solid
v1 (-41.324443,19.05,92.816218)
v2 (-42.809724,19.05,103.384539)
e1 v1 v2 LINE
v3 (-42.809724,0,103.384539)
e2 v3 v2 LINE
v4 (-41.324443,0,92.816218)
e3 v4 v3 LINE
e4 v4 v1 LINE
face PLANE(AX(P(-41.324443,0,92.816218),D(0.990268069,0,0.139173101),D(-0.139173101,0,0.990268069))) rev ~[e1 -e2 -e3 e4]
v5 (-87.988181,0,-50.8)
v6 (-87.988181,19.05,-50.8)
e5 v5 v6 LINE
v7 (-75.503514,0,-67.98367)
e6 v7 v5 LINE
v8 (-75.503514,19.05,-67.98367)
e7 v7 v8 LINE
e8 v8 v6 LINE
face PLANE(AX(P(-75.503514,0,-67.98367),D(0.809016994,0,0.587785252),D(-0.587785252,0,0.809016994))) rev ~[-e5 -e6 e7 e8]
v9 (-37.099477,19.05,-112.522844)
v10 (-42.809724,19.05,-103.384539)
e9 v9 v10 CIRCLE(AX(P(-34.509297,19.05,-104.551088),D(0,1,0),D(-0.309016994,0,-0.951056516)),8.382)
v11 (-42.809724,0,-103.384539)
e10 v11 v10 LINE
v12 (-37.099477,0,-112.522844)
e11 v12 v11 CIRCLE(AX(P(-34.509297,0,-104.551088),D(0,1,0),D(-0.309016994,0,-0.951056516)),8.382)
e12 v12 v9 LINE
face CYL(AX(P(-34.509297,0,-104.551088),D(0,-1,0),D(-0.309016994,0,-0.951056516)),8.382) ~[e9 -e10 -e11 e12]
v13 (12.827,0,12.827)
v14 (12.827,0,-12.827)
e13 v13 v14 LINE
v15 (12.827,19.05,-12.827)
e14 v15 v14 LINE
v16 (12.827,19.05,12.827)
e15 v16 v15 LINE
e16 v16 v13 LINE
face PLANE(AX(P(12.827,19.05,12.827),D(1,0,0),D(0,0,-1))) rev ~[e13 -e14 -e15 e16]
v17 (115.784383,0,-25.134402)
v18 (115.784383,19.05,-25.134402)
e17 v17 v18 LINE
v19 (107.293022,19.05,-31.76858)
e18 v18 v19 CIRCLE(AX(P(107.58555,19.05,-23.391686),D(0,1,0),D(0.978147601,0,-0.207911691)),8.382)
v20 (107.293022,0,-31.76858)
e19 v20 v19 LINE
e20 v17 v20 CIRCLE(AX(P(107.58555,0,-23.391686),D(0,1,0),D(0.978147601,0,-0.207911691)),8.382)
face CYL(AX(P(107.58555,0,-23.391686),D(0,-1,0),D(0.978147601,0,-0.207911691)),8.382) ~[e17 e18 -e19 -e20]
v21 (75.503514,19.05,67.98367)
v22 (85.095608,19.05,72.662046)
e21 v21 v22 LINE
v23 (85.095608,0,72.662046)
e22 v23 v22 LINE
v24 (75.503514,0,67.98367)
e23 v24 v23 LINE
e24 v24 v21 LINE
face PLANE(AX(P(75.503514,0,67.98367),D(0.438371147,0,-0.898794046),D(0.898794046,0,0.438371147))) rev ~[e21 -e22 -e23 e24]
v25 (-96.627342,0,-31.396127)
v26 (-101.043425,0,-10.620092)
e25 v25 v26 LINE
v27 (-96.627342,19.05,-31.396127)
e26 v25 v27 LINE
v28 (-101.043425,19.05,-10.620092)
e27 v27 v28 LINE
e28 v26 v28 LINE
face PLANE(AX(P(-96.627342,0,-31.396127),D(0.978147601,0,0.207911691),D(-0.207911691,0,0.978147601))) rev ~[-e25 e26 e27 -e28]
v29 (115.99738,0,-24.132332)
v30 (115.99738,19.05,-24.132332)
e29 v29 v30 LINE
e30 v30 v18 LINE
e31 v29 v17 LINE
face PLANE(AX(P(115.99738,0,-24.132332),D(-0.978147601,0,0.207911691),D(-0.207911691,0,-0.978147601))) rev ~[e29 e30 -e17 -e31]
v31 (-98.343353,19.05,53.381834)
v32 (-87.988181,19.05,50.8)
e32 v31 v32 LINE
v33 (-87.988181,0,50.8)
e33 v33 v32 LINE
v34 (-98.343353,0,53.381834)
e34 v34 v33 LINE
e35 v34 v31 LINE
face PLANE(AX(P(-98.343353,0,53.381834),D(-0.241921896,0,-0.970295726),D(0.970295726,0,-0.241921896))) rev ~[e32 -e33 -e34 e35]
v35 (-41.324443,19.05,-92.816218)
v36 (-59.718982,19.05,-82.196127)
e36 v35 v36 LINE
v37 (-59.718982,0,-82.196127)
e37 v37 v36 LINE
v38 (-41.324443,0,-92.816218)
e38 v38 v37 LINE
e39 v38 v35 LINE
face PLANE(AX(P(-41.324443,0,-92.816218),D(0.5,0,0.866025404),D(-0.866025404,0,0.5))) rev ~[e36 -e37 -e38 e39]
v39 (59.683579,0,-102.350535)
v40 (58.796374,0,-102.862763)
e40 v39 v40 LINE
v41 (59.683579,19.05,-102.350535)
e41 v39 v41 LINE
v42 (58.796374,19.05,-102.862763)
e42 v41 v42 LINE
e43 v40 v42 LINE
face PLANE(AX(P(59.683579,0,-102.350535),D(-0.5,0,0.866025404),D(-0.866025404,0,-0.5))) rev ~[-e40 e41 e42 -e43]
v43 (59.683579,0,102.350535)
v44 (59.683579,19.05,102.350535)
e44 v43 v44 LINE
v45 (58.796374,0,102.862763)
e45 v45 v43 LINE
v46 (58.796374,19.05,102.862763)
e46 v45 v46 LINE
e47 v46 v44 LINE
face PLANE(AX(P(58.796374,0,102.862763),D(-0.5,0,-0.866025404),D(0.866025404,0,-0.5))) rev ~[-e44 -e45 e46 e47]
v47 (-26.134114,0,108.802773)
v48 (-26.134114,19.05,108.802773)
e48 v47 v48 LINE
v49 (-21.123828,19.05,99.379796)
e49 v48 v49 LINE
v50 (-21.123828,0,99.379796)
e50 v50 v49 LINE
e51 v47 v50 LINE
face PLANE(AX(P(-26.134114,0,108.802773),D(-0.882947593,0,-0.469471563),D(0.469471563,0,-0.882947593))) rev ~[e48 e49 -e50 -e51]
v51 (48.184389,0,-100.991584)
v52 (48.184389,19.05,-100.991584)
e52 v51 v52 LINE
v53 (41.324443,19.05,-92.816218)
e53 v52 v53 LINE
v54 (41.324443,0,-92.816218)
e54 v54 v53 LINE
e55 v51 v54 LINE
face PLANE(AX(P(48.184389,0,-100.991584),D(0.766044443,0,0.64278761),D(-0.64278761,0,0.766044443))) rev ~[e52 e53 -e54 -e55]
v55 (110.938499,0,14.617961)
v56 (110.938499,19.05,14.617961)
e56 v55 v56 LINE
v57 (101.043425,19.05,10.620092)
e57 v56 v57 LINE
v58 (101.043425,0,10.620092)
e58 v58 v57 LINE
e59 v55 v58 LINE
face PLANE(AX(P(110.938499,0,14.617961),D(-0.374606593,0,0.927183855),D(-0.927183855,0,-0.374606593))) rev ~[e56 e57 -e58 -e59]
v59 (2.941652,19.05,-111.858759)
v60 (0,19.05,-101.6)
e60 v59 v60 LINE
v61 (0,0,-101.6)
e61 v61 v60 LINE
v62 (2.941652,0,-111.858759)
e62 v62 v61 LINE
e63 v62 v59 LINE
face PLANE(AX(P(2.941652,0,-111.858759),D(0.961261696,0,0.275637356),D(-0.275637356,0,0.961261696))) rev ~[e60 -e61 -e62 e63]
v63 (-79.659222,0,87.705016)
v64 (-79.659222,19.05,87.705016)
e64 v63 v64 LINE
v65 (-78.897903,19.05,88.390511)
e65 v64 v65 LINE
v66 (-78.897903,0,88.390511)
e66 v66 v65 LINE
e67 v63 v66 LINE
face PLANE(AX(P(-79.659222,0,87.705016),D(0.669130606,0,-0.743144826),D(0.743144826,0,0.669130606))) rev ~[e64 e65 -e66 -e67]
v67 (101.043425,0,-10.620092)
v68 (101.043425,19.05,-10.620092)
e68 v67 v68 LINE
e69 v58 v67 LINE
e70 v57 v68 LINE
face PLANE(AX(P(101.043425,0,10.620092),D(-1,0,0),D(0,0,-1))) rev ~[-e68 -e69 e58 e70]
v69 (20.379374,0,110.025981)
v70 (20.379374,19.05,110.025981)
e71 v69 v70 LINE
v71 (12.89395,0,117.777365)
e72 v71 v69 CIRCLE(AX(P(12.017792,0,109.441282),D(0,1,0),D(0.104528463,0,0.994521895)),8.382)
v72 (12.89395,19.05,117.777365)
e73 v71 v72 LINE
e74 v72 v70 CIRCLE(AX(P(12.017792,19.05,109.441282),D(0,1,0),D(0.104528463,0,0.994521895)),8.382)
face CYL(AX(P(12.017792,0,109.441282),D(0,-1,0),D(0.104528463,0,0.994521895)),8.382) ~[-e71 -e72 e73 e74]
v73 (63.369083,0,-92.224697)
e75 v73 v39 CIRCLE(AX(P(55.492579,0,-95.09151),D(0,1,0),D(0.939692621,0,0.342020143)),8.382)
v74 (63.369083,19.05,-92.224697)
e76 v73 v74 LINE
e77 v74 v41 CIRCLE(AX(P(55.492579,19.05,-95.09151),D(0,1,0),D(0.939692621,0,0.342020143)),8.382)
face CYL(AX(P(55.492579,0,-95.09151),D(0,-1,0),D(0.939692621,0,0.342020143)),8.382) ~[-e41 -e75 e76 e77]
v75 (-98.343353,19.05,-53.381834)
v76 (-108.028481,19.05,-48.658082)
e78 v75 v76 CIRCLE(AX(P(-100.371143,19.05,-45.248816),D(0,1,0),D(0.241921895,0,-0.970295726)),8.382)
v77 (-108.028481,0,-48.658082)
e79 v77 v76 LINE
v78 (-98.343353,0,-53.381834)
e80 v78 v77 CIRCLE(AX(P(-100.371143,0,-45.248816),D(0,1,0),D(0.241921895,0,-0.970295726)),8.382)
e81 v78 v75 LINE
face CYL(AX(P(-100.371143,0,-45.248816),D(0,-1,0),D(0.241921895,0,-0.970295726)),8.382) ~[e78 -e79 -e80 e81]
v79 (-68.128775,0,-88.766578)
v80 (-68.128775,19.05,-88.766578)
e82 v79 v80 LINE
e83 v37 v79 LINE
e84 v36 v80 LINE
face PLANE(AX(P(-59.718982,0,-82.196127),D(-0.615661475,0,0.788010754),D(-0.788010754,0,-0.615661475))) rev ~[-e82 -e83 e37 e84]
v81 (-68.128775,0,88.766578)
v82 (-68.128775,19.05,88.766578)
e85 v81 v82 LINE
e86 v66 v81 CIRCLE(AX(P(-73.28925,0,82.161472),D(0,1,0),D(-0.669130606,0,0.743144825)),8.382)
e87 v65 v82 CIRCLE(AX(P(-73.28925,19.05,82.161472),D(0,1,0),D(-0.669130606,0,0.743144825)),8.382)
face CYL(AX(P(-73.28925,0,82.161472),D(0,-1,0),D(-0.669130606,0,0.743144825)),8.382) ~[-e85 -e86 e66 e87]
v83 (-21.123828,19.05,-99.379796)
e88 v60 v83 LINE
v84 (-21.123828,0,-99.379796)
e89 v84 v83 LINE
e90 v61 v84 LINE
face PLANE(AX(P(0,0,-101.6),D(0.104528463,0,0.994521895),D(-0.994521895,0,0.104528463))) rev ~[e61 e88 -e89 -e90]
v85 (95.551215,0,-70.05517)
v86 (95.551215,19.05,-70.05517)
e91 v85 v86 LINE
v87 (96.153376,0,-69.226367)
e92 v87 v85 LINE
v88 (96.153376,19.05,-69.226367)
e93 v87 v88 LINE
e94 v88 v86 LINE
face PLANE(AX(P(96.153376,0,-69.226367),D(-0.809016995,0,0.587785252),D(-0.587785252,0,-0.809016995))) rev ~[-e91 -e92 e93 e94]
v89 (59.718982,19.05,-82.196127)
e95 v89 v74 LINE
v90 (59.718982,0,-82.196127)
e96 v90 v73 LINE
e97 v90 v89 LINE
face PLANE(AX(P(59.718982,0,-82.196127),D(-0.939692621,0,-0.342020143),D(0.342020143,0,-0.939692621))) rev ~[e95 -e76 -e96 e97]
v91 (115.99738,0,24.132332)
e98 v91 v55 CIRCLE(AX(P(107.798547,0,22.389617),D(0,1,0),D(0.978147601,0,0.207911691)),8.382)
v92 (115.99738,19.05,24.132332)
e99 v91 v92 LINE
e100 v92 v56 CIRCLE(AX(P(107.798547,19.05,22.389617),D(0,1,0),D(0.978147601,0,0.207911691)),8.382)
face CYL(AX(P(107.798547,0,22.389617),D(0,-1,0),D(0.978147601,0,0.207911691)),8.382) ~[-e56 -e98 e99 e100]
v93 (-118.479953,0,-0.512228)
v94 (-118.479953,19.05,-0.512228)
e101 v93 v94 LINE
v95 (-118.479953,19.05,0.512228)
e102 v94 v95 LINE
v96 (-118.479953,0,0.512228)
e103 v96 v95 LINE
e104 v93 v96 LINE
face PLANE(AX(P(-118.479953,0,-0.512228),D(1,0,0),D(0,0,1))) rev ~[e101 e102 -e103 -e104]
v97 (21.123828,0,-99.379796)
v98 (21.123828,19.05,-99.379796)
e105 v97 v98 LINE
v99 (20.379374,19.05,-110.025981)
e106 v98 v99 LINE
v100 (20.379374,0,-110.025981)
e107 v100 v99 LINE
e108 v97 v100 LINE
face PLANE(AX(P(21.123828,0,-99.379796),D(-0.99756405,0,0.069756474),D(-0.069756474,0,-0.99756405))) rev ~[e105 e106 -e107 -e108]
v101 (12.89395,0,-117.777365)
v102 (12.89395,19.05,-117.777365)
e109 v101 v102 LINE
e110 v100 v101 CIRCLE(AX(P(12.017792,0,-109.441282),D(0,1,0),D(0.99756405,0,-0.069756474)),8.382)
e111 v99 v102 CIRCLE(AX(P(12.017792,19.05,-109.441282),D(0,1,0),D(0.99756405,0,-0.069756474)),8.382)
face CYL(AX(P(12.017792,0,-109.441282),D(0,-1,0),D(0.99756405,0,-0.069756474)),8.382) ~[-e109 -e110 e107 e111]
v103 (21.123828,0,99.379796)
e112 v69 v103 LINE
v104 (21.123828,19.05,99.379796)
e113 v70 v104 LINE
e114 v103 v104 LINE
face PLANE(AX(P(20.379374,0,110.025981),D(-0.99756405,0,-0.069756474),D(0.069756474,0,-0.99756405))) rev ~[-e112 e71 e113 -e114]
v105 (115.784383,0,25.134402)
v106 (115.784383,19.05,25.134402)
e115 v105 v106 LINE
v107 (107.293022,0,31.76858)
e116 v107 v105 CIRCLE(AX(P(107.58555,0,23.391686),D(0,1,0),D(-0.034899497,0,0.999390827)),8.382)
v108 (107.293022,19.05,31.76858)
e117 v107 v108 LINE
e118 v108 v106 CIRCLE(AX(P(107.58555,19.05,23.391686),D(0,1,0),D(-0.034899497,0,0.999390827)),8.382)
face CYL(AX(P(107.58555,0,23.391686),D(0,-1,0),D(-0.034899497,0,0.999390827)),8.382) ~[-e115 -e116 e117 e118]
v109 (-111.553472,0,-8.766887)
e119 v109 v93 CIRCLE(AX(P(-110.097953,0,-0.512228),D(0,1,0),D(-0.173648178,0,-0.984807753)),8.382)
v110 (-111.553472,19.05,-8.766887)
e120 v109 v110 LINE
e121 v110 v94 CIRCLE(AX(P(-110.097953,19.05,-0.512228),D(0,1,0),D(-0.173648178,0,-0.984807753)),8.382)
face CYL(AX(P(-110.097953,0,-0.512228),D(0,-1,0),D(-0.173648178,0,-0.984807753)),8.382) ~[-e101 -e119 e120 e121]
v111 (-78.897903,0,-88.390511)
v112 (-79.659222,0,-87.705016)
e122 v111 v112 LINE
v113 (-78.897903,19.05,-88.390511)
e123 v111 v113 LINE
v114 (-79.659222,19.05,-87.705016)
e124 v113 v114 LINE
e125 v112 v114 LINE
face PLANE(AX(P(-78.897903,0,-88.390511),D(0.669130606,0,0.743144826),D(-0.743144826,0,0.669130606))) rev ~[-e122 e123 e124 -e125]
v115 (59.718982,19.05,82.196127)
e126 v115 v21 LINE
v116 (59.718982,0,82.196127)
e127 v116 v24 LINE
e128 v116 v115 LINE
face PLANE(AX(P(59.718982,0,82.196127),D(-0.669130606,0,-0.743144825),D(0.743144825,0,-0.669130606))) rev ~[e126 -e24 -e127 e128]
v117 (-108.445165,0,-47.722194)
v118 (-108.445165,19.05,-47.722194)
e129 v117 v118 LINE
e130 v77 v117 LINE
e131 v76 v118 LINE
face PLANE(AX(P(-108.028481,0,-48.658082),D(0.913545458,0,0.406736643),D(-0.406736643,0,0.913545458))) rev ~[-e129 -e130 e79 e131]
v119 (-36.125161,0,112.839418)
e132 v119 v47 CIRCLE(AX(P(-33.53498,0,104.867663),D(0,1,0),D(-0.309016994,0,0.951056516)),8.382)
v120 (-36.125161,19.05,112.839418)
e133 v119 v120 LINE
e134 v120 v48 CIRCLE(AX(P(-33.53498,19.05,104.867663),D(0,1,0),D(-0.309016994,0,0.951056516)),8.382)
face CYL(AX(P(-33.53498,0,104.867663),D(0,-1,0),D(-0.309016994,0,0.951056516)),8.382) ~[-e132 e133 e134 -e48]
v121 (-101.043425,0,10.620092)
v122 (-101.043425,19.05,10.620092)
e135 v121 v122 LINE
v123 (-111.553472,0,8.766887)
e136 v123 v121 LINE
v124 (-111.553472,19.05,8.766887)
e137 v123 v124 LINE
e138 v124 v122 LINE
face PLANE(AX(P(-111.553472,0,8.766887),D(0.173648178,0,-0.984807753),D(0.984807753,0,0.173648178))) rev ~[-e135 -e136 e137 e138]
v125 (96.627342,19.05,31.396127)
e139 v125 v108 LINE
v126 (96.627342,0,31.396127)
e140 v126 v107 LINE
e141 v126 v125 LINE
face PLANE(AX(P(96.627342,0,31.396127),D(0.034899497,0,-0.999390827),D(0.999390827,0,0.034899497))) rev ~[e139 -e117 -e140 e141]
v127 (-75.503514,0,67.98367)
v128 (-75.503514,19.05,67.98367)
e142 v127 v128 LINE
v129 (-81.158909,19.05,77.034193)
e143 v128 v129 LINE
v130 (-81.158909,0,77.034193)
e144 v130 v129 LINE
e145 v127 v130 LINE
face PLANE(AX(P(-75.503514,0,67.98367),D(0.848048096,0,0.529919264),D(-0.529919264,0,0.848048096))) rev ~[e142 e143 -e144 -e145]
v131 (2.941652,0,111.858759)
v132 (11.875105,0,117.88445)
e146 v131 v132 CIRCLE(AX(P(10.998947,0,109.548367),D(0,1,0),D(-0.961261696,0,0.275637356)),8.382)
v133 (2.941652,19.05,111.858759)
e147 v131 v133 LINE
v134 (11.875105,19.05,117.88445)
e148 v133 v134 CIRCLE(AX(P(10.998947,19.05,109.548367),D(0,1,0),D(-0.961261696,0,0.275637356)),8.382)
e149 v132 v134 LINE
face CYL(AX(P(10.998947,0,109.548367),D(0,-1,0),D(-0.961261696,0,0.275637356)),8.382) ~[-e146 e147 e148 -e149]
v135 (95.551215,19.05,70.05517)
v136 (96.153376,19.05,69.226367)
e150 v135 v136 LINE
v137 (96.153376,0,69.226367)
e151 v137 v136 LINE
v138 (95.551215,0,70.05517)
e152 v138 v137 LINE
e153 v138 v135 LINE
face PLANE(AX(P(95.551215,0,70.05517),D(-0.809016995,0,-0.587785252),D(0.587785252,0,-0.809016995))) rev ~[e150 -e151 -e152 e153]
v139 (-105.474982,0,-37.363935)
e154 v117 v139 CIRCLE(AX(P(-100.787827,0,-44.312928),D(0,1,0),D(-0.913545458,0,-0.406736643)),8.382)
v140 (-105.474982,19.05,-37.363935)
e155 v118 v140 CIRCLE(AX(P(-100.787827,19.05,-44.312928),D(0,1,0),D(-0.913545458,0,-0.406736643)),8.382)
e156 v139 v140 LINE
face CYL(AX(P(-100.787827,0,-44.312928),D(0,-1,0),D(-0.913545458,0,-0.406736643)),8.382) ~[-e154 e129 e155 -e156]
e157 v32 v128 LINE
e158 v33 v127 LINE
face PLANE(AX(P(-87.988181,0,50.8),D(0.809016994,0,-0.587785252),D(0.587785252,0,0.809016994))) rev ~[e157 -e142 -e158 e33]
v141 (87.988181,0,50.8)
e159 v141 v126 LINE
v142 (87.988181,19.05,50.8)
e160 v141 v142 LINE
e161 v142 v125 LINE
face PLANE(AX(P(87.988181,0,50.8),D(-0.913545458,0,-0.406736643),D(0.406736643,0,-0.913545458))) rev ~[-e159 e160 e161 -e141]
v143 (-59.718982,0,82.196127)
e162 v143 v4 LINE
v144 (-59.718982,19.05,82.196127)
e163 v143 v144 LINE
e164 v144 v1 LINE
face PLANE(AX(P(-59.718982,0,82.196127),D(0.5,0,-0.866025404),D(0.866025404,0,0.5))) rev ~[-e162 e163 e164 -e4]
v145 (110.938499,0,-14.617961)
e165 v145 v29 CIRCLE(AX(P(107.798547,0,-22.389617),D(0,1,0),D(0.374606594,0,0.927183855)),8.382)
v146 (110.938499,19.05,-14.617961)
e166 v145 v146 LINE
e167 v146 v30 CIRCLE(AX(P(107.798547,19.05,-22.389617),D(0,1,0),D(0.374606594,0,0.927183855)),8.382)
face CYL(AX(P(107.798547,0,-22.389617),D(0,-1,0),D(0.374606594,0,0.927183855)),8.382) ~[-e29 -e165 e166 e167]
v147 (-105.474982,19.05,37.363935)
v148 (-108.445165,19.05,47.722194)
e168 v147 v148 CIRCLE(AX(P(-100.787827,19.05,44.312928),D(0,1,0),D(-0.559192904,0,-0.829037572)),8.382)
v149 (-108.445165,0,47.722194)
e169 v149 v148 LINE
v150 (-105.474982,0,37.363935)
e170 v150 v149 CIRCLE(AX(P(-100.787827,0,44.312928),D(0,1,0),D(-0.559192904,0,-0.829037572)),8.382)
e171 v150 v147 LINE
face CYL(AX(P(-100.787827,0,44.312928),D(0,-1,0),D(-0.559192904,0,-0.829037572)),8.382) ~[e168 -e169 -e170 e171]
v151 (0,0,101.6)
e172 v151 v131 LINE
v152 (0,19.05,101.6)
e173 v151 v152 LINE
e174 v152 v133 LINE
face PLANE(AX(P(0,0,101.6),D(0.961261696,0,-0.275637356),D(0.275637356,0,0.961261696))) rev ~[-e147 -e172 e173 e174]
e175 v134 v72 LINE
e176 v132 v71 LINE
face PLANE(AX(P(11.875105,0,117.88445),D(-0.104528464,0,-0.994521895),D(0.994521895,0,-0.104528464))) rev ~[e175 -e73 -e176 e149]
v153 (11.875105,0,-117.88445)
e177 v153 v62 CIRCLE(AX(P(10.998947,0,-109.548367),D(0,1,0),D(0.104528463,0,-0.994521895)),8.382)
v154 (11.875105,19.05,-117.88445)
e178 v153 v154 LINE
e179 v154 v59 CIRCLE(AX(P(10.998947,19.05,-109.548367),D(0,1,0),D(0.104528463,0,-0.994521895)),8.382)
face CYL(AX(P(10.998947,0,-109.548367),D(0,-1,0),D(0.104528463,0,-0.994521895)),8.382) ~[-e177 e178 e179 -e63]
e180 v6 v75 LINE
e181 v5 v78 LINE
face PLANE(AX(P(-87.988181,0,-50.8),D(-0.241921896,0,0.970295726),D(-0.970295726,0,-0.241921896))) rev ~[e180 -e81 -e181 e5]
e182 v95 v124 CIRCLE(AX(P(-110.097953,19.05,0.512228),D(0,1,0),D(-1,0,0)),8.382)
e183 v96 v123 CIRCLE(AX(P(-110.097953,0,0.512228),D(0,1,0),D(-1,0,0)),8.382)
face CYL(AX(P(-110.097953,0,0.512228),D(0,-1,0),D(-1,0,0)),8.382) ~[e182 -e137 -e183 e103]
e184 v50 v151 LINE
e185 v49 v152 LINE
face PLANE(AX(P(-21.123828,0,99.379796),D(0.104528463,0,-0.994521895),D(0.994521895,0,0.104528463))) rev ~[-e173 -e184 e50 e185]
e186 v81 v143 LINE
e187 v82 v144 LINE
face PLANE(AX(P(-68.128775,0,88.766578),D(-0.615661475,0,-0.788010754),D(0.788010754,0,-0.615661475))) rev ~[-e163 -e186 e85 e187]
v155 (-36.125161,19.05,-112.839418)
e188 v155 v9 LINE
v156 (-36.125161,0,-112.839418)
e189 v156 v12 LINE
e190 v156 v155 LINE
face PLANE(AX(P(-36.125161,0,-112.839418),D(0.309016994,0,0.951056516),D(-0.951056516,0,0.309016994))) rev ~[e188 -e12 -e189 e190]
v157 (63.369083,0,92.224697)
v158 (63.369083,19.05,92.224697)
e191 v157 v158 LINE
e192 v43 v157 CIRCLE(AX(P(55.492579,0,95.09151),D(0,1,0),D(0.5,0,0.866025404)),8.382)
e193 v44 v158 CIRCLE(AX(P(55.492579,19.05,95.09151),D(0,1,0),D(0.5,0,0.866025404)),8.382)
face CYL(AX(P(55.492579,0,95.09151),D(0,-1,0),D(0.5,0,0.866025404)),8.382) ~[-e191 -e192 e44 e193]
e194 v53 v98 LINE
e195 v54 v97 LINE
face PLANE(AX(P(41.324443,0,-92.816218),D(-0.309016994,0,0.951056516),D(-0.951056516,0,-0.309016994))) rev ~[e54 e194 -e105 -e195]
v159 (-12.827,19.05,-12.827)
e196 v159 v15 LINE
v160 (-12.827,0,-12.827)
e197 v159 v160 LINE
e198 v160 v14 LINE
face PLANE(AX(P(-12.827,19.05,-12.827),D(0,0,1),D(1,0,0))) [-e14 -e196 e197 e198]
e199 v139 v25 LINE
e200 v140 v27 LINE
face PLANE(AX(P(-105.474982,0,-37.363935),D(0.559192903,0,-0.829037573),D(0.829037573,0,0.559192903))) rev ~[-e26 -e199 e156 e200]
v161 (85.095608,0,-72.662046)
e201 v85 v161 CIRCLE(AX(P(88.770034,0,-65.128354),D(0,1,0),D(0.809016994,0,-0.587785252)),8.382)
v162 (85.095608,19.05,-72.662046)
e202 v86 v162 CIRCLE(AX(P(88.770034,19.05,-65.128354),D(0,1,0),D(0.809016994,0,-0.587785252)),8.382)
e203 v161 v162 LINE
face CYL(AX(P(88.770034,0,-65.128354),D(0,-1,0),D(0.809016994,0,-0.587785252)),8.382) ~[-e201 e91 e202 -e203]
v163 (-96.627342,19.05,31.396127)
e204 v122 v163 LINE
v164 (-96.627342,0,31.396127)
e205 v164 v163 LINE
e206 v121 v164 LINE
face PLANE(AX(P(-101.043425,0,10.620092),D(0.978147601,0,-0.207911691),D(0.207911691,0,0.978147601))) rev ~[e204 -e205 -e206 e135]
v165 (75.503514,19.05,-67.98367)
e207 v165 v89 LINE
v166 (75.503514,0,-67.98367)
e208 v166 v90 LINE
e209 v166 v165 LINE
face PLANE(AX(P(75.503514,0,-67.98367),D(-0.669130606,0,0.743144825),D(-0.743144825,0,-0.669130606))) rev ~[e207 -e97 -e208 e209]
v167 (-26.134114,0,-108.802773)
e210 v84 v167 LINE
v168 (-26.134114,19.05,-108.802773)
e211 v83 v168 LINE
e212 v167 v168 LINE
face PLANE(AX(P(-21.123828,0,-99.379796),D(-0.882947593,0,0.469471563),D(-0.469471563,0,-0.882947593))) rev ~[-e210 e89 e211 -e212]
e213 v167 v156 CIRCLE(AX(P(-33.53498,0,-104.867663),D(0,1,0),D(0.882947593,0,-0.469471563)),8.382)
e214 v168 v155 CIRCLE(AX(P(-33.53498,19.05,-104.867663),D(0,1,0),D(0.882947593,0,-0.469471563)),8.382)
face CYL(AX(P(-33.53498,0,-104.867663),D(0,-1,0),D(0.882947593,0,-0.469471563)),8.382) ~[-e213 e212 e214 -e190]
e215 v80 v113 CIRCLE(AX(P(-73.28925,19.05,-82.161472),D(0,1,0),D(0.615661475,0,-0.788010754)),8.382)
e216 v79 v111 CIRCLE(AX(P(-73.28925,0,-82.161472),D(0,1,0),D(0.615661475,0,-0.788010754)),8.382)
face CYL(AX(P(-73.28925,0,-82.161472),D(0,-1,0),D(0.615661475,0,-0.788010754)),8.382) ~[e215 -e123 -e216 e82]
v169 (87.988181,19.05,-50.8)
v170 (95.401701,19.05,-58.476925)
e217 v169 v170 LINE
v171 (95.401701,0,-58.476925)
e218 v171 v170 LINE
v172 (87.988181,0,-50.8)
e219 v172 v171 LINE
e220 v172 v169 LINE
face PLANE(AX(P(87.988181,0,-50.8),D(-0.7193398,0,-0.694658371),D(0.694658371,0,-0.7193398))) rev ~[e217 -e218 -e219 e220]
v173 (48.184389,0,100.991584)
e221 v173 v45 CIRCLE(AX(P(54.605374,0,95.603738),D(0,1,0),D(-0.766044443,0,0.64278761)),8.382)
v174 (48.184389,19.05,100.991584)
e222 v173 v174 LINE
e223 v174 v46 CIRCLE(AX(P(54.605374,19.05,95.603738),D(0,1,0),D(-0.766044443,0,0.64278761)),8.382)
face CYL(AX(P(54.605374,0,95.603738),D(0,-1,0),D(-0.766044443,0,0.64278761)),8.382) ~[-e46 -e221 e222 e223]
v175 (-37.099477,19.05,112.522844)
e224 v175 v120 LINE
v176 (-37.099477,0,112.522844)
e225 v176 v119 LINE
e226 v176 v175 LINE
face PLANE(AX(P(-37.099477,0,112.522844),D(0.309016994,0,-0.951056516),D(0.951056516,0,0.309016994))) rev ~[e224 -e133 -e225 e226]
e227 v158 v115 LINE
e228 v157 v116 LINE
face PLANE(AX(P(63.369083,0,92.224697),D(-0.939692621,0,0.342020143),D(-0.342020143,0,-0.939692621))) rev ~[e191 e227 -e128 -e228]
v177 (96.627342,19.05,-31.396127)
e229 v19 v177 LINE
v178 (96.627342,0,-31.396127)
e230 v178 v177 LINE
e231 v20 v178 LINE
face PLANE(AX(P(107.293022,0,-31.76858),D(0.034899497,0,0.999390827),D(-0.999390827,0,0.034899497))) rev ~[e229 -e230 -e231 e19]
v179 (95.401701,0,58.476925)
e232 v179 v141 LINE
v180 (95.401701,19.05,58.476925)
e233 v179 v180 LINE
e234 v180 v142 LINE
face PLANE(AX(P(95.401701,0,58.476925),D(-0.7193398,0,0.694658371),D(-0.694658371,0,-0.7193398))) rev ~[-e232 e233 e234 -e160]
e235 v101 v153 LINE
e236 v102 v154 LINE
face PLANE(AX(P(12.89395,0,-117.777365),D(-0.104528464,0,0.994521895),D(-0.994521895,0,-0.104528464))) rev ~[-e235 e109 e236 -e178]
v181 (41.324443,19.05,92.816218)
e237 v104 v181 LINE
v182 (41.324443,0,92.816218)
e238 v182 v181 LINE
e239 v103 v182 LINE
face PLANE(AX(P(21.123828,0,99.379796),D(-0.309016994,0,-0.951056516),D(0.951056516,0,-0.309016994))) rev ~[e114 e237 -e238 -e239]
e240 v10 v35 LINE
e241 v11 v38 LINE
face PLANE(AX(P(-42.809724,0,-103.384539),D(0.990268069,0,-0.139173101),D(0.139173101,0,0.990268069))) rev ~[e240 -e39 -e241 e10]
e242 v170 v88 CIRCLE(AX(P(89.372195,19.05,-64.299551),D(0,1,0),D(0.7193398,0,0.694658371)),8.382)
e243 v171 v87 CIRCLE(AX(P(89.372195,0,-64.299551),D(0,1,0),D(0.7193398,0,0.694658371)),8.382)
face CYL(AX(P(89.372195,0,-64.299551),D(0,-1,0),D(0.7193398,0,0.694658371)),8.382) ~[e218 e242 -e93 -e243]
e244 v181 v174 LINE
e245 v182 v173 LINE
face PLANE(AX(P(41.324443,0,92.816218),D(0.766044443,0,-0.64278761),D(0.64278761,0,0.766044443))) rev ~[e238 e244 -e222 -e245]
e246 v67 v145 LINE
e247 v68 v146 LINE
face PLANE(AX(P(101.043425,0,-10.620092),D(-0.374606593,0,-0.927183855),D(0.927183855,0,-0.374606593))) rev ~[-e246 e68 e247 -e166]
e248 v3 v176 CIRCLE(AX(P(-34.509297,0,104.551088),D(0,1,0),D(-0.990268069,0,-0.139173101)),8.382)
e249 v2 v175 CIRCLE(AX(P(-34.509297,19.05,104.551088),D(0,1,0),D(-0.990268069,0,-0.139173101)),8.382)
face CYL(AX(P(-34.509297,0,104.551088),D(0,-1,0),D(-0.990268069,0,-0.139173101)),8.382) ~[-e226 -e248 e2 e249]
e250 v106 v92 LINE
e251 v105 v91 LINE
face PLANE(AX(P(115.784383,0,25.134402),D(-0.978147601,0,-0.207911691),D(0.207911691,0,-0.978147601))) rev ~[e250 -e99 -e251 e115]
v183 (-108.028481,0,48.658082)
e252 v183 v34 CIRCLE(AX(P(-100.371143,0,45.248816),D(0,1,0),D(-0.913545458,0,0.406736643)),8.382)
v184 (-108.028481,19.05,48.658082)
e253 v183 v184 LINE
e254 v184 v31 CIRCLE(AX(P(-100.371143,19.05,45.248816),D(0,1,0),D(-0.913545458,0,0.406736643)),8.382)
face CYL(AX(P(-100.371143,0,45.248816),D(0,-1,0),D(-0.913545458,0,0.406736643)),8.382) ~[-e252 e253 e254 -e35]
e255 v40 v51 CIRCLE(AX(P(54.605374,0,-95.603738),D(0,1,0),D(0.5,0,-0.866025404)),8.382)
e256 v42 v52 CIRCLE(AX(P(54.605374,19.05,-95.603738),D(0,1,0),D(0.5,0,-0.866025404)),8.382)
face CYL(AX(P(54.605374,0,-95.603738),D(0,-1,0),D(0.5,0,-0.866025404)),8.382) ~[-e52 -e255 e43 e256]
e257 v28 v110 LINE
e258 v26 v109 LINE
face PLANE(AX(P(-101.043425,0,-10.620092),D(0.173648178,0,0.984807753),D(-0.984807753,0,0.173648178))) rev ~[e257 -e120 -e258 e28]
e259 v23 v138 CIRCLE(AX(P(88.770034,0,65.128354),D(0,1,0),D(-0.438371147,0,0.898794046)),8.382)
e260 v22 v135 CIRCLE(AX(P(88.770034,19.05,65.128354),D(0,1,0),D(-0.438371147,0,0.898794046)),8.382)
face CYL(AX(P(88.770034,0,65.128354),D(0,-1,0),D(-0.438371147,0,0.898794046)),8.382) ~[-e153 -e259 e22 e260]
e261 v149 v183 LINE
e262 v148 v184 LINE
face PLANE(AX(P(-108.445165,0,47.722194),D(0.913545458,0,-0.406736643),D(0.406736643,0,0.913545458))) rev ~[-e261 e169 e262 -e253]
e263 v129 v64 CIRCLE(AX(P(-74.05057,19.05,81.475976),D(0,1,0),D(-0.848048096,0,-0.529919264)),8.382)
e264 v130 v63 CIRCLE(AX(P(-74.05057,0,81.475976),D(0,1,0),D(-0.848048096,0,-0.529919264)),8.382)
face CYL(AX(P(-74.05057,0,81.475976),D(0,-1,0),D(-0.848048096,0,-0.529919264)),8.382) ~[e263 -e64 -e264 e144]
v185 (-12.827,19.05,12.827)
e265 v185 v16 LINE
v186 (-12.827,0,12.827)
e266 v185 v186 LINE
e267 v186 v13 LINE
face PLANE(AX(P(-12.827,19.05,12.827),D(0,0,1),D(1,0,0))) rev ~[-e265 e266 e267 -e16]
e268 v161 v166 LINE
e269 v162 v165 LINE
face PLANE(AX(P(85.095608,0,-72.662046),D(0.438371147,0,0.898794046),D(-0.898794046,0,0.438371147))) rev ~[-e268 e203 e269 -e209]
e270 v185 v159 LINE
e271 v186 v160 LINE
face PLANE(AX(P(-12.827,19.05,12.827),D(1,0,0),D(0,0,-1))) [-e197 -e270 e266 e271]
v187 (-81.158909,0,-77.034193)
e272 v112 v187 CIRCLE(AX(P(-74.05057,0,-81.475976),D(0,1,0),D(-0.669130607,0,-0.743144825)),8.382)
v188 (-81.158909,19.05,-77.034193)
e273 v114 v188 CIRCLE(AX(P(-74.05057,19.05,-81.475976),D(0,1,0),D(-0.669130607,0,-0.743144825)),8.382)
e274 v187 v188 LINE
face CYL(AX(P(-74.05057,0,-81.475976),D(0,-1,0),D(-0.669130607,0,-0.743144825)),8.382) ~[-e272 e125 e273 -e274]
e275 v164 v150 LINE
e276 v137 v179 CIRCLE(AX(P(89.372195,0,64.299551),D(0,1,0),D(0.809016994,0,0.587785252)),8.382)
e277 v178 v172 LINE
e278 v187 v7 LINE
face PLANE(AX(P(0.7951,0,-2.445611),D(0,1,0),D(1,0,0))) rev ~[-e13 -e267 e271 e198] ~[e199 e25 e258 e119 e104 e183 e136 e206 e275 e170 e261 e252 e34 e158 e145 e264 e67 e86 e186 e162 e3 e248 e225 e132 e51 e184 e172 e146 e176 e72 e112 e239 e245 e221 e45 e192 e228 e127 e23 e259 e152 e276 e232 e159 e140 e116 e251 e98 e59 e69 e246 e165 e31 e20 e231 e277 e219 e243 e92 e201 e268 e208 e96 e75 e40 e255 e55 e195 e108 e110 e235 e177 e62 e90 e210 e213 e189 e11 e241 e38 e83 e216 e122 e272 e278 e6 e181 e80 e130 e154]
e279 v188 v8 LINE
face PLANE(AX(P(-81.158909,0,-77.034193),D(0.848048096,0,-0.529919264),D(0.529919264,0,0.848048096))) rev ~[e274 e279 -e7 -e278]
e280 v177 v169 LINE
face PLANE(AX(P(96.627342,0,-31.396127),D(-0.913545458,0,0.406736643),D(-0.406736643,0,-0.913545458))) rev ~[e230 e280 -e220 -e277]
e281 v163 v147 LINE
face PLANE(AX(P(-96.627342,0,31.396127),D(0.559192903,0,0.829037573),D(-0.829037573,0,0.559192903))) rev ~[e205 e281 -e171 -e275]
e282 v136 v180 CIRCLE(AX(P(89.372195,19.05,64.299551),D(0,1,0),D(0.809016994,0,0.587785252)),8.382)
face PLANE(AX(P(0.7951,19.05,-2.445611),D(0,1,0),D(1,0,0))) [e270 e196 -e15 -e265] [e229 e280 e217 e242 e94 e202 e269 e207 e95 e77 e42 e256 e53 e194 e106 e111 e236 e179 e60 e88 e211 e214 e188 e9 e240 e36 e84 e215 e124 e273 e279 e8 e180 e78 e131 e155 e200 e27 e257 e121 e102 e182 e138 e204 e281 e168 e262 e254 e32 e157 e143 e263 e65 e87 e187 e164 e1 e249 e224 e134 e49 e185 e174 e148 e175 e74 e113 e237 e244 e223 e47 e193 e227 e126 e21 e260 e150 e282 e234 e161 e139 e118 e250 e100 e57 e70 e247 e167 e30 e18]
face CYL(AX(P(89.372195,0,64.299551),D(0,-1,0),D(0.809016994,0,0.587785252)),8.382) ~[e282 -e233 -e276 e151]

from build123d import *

# Parameters (mm, degrees)
BOSS_EXTRUDE1_DEPTH = 19.05
SKETCH2_R           = 3.175
CUT_EXTRUDE1_DEPTH  = 169.2497345
SKETCH4_W           = 25.654
SKETCH4_H           = 25.654
CUT_EXTRUDE2_DEPTH  = 169.2497345


with BuildPart() as part:
    # Sketch1 → Boss-Extrude1 (new body)
    with BuildSketch(Plane(origin=(0, 0, 0), x_dir=(1, 0, 0), z_dir=(0, 1, 0))):
        with BuildLine():
            Line((41.324442937, 92.816218496), (0, 0))
            Line((0, 0), (0, 101.6))
            Line((0, 101.6), (-21.123827787, 99.379796235))
            Line((-21.123827787, 99.379796235), (-26.134113546, 108.80277326))
            ThreePointArc((-26.134113546, 108.80277326), (-30.395027803, 112.639317689), (-36.125160716, 112.83941834))
            Line((-36.125160716, 112.83941834), (-37.099477034, 112.522843778))
            ThreePointArc((-37.099477034, 112.522843778), (-41.617635729, 108.992871331), (-42.809723539, 103.384539126))
            Line((-42.809723539, 103.384539126), (-41.324442937, 92.816218496))
            Line((-41.324442937, 92.816218496), (-59.718981633, 82.196126628))
            Line((-59.718981633, 82.196126628), (-68.128775472, 88.766577677))
            ThreePointArc((-68.128775472, 88.766577677), (-73.58177754, 90.538365452), (-78.897902701, 88.390511467))
            Line((-78.897902701, 88.390511467), (-79.659222473, 87.705016066))
            ThreePointArc((-79.659222473, 87.705016066), (-82.350996682, 82.642525071), (-81.158908872, 77.034192866))
            Line((-81.158908872, 77.034192866), (-75.503514269, 67.983669606))
            Line((-75.503514269, 67.983669606), (-87.988181024, 50.8))
            Line((-87.988181024, 50.8), (-98.343353189, 53.381834395))
            ThreePointArc((-98.343353189, 53.381834395), (-104.04556947, 52.782507313), (-108.028480544, 48.658082159))
            Line((-108.028480544, 48.658082159), (-108.445164665, 47.722194301))
            ThreePointArc((-108.445164665, 47.722194301), (-108.845122174, 42.002535442), (-105.474981556, 37.363934825))
            Line((-105.474981556, 37.363934825), (-96.627342056, 31.396126628))
            Line((-96.627342056, 31.396126628), (-101.043424569, 10.620091868))
            Line((-101.043424569, 10.620091868), (-111.553471718, 8.766886987))
            ThreePointArc((-111.553471718, 8.766886987), (-116.518937215, 5.900074146), (-118.479952693, 0.512228401))
            Line((-118.479952693, 0.512228401), (-118.479952693, -0.512228401))
            ThreePointArc((-118.479952693, -0.512228401), (-116.518937215, -5.900074146), (-111.553471718, -8.766886987))
            Line((-111.553471718, -8.766886987), (-101.043424569, -10.620091868))
            Line((-101.043424569, -10.620091868), (-96.627342056, -31.396126628))
            Line((-96.627342056, -31.396126628), (-105.474981556, -37.363934825))
            ThreePointArc((-105.474981556, -37.363934825), (-108.845122174, -42.002535442), (-108.445164665, -47.722194301))
            Line((-108.445164665, -47.722194301), (-108.028480544, -48.658082159))
            ThreePointArc((-108.028480544, -48.658082159), (-104.04556947, -52.782507313), (-98.343353189, -53.381834395))
            Line((-98.343353189, -53.381834395), (-87.988181024, -50.8))
            Line((-87.988181024, -50.8), (-75.503514269, -67.983669606))
            Line((-75.503514269, -67.983669606), (-81.158908872, -77.034192866))
            ThreePointArc((-81.158908872, -77.034192866), (-82.350996682, -82.642525071), (-79.659222473, -87.705016066))
            Line((-79.659222473, -87.705016066), (-78.897902701, -88.390511467))
            ThreePointArc((-78.897902701, -88.390511467), (-73.58177754, -90.538365452), (-68.128775472, -88.766577677))
            Line((-68.128775472, -88.766577677), (-59.718981633, -82.196126628))
            Line((-59.718981633, -82.196126628), (-41.324442937, -92.816218496))
            Line((-41.324442937, -92.816218496), (-42.809723539, -103.384539126))
            ThreePointArc((-42.809723539, -103.384539126), (-41.617635729, -108.992871331), (-37.099477034, -112.522843778))
            Line((-37.099477034, -112.522843778), (-36.125160716, -112.83941834))
            ThreePointArc((-36.125160716, -112.83941834), (-30.395027803, -112.639317689), (-26.134113546, -108.80277326))
            Line((-26.134113546, -108.80277326), (-21.123827787, -99.379796235))
            Line((-21.123827787, -99.379796235), (0, -101.6))
            Line((0, -101.6), (2.941651908, -111.858759352))
            ThreePointArc((2.941651908, -111.858759352), (6.311792526, -116.497359969), (11.875105022, -117.884449563))
            Line((11.875105022, -117.884449563), (12.893949744, -117.777364667))
            ThreePointArc((12.893949744, -117.777364667), (18.047298371, -115.263908602), (20.379374034, -110.025980903))
            Line((20.379374034, -110.025980903), (21.123827787, -99.379796235))
            Line((21.123827787, -99.379796235), (41.324442937, -92.816218496))
            Line((41.324442937, -92.816218496), (48.184389016, -100.991583882))
            ThreePointArc((48.184389016, -100.991583882), (53.149854513, -103.858396723), (58.796373538, -102.862763072))
            Line((58.796373538, -102.862763072), (59.683579155, -102.35053467))
            ThreePointArc((59.683579155, -102.35053467), (63.369082702, -97.958322577), (63.369082702, -92.224696894))
            Line((63.369082702, -92.224696894), (59.718981633, -82.196126628))
            Line((59.718981633, -82.196126628), (75.503514269, -67.983669606))
            Line((75.503514269, -67.983669606), (85.095607522, -72.662046078))
            ThreePointArc((85.095607522, -72.662046078), (90.797823803, -73.26137316), (95.551214921, -70.055170367))
            Line((95.551214921, -70.055170367), (96.153375521, -69.226367403))
            ThreePointArc((96.153375521, -69.226367403), (97.733776944, -63.714852656), (95.401701281, -58.476924957))
            Line((95.401701281, -58.476924957), (87.988181024, -50.8))
            Line((87.988181024, -50.8), (96.627342056, -31.396126628))
            Line((96.627342056, -31.396126628), (107.293022418, -31.768580394))
            ThreePointArc((107.293022418, -31.768580394), (112.746024485, -29.996792619), (115.784383188, -25.134402274))
            Line((115.784383188, -25.134402274), (115.997379734, -24.13233231))
            ThreePointArc((115.997379734, -24.13233231), (115.199413268, -18.454505879), (110.938499011, -14.617961449))
            Line((110.938499011, -14.617961449), (101.043424569, -10.620091868))
            Line((101.043424569, -10.620091868), (101.043424569, 10.620091868))
            Line((101.043424569, 10.620091868), (110.938499011, 14.617961449))
            ThreePointArc((110.938499011, 14.617961449), (115.199413268, 18.454505879), (115.997379734, 24.13233231))
            Line((115.997379734, 24.13233231), (115.784383188, 25.134402274))
            ThreePointArc((115.784383188, 25.134402274), (112.746024485, 29.996792619), (107.293022418, 31.768580394))
            Line((107.293022418, 31.768580394), (96.627342056, 31.396126628))
            Line((96.627342056, 31.396126628), (87.988181024, 50.8))
            Line((87.988181024, 50.8), (95.401701281, 58.476924957))
            ThreePointArc((95.401701281, 58.476924957), (97.733776944, 63.714852656), (96.153375521, 69.226367403))
            Line((96.153375521, 69.226367403), (95.551214921, 70.055170367))
            ThreePointArc((95.551214921, 70.055170367), (90.797823803, 73.26137316), (85.095607522, 72.662046078))
            Line((85.095607522, 72.662046078), (75.503514269, 67.983669606))
            Line((75.503514269, 67.983669606), (59.718981633, 82.196126628))
            Line((59.718981633, 82.196126628), (63.369082702, 92.224696894))
            ThreePointArc((63.369082702, 92.224696894), (63.369082702, 97.958322577), (59.683579155, 102.35053467))
            Line((59.683579155, 102.35053467), (58.796373538, 102.862763072))
            ThreePointArc((58.796373538, 102.862763072), (53.149854513, 103.858396723), (48.184389016, 100.991583882))
            Line((48.184389016, 100.991583882), (41.324442937, 92.816218496))
        make_face()
        with BuildLine():
            Line((0, 101.6), (0, 0))
            Line((0, 0), (21.123827787, 99.379796235))
            Line((21.123827787, 99.379796235), (20.379374034, 110.025980903))
            ThreePointArc((20.379374034, 110.025980903), (18.047298371, 115.263908602), (12.893949744, 117.777364667))
            Line((12.893949744, 117.777364667), (11.875105022, 117.884449563))
            ThreePointArc((11.875105022, 117.884449563), (6.311792526, 116.497359969), (2.941651908, 111.858759352))
            Line((2.941651908, 111.858759352), (0, 101.6))
        make_face()
        Polygon((21.123827787, 99.379796235), (0, 0), (41.324442937, 92.816218496), align=None)
    extrude(amount=BOSS_EXTRUDE1_DEPTH)

    # Sketch2 → Cut-Extrude1 (cut, through all)
    with BuildSketch(Plane(origin=(0, 19.05, 0), x_dir=(1, 0, 0), z_dir=(0, 1, 0))):
        with Locations(Location((0, 0, 0), (0, 0, 270))):
            Circle(SKETCH2_R)
    extrude(amount=-CUT_EXTRUDE1_DEPTH, mode=Mode.SUBTRACT)

    # Sketch4 → Cut-Extrude2 (cut, through all)
    with BuildSketch(Plane(origin=(0, 19.05, 0), x_dir=(1, 0, 0), z_dir=(0, 1, 0))):
        Rectangle(SKETCH4_W, SKETCH4_H)
    extrude(amount=-CUT_EXTRUDE2_DEPTH, mode=Mode.SUBTRACT)


solid = part.part
